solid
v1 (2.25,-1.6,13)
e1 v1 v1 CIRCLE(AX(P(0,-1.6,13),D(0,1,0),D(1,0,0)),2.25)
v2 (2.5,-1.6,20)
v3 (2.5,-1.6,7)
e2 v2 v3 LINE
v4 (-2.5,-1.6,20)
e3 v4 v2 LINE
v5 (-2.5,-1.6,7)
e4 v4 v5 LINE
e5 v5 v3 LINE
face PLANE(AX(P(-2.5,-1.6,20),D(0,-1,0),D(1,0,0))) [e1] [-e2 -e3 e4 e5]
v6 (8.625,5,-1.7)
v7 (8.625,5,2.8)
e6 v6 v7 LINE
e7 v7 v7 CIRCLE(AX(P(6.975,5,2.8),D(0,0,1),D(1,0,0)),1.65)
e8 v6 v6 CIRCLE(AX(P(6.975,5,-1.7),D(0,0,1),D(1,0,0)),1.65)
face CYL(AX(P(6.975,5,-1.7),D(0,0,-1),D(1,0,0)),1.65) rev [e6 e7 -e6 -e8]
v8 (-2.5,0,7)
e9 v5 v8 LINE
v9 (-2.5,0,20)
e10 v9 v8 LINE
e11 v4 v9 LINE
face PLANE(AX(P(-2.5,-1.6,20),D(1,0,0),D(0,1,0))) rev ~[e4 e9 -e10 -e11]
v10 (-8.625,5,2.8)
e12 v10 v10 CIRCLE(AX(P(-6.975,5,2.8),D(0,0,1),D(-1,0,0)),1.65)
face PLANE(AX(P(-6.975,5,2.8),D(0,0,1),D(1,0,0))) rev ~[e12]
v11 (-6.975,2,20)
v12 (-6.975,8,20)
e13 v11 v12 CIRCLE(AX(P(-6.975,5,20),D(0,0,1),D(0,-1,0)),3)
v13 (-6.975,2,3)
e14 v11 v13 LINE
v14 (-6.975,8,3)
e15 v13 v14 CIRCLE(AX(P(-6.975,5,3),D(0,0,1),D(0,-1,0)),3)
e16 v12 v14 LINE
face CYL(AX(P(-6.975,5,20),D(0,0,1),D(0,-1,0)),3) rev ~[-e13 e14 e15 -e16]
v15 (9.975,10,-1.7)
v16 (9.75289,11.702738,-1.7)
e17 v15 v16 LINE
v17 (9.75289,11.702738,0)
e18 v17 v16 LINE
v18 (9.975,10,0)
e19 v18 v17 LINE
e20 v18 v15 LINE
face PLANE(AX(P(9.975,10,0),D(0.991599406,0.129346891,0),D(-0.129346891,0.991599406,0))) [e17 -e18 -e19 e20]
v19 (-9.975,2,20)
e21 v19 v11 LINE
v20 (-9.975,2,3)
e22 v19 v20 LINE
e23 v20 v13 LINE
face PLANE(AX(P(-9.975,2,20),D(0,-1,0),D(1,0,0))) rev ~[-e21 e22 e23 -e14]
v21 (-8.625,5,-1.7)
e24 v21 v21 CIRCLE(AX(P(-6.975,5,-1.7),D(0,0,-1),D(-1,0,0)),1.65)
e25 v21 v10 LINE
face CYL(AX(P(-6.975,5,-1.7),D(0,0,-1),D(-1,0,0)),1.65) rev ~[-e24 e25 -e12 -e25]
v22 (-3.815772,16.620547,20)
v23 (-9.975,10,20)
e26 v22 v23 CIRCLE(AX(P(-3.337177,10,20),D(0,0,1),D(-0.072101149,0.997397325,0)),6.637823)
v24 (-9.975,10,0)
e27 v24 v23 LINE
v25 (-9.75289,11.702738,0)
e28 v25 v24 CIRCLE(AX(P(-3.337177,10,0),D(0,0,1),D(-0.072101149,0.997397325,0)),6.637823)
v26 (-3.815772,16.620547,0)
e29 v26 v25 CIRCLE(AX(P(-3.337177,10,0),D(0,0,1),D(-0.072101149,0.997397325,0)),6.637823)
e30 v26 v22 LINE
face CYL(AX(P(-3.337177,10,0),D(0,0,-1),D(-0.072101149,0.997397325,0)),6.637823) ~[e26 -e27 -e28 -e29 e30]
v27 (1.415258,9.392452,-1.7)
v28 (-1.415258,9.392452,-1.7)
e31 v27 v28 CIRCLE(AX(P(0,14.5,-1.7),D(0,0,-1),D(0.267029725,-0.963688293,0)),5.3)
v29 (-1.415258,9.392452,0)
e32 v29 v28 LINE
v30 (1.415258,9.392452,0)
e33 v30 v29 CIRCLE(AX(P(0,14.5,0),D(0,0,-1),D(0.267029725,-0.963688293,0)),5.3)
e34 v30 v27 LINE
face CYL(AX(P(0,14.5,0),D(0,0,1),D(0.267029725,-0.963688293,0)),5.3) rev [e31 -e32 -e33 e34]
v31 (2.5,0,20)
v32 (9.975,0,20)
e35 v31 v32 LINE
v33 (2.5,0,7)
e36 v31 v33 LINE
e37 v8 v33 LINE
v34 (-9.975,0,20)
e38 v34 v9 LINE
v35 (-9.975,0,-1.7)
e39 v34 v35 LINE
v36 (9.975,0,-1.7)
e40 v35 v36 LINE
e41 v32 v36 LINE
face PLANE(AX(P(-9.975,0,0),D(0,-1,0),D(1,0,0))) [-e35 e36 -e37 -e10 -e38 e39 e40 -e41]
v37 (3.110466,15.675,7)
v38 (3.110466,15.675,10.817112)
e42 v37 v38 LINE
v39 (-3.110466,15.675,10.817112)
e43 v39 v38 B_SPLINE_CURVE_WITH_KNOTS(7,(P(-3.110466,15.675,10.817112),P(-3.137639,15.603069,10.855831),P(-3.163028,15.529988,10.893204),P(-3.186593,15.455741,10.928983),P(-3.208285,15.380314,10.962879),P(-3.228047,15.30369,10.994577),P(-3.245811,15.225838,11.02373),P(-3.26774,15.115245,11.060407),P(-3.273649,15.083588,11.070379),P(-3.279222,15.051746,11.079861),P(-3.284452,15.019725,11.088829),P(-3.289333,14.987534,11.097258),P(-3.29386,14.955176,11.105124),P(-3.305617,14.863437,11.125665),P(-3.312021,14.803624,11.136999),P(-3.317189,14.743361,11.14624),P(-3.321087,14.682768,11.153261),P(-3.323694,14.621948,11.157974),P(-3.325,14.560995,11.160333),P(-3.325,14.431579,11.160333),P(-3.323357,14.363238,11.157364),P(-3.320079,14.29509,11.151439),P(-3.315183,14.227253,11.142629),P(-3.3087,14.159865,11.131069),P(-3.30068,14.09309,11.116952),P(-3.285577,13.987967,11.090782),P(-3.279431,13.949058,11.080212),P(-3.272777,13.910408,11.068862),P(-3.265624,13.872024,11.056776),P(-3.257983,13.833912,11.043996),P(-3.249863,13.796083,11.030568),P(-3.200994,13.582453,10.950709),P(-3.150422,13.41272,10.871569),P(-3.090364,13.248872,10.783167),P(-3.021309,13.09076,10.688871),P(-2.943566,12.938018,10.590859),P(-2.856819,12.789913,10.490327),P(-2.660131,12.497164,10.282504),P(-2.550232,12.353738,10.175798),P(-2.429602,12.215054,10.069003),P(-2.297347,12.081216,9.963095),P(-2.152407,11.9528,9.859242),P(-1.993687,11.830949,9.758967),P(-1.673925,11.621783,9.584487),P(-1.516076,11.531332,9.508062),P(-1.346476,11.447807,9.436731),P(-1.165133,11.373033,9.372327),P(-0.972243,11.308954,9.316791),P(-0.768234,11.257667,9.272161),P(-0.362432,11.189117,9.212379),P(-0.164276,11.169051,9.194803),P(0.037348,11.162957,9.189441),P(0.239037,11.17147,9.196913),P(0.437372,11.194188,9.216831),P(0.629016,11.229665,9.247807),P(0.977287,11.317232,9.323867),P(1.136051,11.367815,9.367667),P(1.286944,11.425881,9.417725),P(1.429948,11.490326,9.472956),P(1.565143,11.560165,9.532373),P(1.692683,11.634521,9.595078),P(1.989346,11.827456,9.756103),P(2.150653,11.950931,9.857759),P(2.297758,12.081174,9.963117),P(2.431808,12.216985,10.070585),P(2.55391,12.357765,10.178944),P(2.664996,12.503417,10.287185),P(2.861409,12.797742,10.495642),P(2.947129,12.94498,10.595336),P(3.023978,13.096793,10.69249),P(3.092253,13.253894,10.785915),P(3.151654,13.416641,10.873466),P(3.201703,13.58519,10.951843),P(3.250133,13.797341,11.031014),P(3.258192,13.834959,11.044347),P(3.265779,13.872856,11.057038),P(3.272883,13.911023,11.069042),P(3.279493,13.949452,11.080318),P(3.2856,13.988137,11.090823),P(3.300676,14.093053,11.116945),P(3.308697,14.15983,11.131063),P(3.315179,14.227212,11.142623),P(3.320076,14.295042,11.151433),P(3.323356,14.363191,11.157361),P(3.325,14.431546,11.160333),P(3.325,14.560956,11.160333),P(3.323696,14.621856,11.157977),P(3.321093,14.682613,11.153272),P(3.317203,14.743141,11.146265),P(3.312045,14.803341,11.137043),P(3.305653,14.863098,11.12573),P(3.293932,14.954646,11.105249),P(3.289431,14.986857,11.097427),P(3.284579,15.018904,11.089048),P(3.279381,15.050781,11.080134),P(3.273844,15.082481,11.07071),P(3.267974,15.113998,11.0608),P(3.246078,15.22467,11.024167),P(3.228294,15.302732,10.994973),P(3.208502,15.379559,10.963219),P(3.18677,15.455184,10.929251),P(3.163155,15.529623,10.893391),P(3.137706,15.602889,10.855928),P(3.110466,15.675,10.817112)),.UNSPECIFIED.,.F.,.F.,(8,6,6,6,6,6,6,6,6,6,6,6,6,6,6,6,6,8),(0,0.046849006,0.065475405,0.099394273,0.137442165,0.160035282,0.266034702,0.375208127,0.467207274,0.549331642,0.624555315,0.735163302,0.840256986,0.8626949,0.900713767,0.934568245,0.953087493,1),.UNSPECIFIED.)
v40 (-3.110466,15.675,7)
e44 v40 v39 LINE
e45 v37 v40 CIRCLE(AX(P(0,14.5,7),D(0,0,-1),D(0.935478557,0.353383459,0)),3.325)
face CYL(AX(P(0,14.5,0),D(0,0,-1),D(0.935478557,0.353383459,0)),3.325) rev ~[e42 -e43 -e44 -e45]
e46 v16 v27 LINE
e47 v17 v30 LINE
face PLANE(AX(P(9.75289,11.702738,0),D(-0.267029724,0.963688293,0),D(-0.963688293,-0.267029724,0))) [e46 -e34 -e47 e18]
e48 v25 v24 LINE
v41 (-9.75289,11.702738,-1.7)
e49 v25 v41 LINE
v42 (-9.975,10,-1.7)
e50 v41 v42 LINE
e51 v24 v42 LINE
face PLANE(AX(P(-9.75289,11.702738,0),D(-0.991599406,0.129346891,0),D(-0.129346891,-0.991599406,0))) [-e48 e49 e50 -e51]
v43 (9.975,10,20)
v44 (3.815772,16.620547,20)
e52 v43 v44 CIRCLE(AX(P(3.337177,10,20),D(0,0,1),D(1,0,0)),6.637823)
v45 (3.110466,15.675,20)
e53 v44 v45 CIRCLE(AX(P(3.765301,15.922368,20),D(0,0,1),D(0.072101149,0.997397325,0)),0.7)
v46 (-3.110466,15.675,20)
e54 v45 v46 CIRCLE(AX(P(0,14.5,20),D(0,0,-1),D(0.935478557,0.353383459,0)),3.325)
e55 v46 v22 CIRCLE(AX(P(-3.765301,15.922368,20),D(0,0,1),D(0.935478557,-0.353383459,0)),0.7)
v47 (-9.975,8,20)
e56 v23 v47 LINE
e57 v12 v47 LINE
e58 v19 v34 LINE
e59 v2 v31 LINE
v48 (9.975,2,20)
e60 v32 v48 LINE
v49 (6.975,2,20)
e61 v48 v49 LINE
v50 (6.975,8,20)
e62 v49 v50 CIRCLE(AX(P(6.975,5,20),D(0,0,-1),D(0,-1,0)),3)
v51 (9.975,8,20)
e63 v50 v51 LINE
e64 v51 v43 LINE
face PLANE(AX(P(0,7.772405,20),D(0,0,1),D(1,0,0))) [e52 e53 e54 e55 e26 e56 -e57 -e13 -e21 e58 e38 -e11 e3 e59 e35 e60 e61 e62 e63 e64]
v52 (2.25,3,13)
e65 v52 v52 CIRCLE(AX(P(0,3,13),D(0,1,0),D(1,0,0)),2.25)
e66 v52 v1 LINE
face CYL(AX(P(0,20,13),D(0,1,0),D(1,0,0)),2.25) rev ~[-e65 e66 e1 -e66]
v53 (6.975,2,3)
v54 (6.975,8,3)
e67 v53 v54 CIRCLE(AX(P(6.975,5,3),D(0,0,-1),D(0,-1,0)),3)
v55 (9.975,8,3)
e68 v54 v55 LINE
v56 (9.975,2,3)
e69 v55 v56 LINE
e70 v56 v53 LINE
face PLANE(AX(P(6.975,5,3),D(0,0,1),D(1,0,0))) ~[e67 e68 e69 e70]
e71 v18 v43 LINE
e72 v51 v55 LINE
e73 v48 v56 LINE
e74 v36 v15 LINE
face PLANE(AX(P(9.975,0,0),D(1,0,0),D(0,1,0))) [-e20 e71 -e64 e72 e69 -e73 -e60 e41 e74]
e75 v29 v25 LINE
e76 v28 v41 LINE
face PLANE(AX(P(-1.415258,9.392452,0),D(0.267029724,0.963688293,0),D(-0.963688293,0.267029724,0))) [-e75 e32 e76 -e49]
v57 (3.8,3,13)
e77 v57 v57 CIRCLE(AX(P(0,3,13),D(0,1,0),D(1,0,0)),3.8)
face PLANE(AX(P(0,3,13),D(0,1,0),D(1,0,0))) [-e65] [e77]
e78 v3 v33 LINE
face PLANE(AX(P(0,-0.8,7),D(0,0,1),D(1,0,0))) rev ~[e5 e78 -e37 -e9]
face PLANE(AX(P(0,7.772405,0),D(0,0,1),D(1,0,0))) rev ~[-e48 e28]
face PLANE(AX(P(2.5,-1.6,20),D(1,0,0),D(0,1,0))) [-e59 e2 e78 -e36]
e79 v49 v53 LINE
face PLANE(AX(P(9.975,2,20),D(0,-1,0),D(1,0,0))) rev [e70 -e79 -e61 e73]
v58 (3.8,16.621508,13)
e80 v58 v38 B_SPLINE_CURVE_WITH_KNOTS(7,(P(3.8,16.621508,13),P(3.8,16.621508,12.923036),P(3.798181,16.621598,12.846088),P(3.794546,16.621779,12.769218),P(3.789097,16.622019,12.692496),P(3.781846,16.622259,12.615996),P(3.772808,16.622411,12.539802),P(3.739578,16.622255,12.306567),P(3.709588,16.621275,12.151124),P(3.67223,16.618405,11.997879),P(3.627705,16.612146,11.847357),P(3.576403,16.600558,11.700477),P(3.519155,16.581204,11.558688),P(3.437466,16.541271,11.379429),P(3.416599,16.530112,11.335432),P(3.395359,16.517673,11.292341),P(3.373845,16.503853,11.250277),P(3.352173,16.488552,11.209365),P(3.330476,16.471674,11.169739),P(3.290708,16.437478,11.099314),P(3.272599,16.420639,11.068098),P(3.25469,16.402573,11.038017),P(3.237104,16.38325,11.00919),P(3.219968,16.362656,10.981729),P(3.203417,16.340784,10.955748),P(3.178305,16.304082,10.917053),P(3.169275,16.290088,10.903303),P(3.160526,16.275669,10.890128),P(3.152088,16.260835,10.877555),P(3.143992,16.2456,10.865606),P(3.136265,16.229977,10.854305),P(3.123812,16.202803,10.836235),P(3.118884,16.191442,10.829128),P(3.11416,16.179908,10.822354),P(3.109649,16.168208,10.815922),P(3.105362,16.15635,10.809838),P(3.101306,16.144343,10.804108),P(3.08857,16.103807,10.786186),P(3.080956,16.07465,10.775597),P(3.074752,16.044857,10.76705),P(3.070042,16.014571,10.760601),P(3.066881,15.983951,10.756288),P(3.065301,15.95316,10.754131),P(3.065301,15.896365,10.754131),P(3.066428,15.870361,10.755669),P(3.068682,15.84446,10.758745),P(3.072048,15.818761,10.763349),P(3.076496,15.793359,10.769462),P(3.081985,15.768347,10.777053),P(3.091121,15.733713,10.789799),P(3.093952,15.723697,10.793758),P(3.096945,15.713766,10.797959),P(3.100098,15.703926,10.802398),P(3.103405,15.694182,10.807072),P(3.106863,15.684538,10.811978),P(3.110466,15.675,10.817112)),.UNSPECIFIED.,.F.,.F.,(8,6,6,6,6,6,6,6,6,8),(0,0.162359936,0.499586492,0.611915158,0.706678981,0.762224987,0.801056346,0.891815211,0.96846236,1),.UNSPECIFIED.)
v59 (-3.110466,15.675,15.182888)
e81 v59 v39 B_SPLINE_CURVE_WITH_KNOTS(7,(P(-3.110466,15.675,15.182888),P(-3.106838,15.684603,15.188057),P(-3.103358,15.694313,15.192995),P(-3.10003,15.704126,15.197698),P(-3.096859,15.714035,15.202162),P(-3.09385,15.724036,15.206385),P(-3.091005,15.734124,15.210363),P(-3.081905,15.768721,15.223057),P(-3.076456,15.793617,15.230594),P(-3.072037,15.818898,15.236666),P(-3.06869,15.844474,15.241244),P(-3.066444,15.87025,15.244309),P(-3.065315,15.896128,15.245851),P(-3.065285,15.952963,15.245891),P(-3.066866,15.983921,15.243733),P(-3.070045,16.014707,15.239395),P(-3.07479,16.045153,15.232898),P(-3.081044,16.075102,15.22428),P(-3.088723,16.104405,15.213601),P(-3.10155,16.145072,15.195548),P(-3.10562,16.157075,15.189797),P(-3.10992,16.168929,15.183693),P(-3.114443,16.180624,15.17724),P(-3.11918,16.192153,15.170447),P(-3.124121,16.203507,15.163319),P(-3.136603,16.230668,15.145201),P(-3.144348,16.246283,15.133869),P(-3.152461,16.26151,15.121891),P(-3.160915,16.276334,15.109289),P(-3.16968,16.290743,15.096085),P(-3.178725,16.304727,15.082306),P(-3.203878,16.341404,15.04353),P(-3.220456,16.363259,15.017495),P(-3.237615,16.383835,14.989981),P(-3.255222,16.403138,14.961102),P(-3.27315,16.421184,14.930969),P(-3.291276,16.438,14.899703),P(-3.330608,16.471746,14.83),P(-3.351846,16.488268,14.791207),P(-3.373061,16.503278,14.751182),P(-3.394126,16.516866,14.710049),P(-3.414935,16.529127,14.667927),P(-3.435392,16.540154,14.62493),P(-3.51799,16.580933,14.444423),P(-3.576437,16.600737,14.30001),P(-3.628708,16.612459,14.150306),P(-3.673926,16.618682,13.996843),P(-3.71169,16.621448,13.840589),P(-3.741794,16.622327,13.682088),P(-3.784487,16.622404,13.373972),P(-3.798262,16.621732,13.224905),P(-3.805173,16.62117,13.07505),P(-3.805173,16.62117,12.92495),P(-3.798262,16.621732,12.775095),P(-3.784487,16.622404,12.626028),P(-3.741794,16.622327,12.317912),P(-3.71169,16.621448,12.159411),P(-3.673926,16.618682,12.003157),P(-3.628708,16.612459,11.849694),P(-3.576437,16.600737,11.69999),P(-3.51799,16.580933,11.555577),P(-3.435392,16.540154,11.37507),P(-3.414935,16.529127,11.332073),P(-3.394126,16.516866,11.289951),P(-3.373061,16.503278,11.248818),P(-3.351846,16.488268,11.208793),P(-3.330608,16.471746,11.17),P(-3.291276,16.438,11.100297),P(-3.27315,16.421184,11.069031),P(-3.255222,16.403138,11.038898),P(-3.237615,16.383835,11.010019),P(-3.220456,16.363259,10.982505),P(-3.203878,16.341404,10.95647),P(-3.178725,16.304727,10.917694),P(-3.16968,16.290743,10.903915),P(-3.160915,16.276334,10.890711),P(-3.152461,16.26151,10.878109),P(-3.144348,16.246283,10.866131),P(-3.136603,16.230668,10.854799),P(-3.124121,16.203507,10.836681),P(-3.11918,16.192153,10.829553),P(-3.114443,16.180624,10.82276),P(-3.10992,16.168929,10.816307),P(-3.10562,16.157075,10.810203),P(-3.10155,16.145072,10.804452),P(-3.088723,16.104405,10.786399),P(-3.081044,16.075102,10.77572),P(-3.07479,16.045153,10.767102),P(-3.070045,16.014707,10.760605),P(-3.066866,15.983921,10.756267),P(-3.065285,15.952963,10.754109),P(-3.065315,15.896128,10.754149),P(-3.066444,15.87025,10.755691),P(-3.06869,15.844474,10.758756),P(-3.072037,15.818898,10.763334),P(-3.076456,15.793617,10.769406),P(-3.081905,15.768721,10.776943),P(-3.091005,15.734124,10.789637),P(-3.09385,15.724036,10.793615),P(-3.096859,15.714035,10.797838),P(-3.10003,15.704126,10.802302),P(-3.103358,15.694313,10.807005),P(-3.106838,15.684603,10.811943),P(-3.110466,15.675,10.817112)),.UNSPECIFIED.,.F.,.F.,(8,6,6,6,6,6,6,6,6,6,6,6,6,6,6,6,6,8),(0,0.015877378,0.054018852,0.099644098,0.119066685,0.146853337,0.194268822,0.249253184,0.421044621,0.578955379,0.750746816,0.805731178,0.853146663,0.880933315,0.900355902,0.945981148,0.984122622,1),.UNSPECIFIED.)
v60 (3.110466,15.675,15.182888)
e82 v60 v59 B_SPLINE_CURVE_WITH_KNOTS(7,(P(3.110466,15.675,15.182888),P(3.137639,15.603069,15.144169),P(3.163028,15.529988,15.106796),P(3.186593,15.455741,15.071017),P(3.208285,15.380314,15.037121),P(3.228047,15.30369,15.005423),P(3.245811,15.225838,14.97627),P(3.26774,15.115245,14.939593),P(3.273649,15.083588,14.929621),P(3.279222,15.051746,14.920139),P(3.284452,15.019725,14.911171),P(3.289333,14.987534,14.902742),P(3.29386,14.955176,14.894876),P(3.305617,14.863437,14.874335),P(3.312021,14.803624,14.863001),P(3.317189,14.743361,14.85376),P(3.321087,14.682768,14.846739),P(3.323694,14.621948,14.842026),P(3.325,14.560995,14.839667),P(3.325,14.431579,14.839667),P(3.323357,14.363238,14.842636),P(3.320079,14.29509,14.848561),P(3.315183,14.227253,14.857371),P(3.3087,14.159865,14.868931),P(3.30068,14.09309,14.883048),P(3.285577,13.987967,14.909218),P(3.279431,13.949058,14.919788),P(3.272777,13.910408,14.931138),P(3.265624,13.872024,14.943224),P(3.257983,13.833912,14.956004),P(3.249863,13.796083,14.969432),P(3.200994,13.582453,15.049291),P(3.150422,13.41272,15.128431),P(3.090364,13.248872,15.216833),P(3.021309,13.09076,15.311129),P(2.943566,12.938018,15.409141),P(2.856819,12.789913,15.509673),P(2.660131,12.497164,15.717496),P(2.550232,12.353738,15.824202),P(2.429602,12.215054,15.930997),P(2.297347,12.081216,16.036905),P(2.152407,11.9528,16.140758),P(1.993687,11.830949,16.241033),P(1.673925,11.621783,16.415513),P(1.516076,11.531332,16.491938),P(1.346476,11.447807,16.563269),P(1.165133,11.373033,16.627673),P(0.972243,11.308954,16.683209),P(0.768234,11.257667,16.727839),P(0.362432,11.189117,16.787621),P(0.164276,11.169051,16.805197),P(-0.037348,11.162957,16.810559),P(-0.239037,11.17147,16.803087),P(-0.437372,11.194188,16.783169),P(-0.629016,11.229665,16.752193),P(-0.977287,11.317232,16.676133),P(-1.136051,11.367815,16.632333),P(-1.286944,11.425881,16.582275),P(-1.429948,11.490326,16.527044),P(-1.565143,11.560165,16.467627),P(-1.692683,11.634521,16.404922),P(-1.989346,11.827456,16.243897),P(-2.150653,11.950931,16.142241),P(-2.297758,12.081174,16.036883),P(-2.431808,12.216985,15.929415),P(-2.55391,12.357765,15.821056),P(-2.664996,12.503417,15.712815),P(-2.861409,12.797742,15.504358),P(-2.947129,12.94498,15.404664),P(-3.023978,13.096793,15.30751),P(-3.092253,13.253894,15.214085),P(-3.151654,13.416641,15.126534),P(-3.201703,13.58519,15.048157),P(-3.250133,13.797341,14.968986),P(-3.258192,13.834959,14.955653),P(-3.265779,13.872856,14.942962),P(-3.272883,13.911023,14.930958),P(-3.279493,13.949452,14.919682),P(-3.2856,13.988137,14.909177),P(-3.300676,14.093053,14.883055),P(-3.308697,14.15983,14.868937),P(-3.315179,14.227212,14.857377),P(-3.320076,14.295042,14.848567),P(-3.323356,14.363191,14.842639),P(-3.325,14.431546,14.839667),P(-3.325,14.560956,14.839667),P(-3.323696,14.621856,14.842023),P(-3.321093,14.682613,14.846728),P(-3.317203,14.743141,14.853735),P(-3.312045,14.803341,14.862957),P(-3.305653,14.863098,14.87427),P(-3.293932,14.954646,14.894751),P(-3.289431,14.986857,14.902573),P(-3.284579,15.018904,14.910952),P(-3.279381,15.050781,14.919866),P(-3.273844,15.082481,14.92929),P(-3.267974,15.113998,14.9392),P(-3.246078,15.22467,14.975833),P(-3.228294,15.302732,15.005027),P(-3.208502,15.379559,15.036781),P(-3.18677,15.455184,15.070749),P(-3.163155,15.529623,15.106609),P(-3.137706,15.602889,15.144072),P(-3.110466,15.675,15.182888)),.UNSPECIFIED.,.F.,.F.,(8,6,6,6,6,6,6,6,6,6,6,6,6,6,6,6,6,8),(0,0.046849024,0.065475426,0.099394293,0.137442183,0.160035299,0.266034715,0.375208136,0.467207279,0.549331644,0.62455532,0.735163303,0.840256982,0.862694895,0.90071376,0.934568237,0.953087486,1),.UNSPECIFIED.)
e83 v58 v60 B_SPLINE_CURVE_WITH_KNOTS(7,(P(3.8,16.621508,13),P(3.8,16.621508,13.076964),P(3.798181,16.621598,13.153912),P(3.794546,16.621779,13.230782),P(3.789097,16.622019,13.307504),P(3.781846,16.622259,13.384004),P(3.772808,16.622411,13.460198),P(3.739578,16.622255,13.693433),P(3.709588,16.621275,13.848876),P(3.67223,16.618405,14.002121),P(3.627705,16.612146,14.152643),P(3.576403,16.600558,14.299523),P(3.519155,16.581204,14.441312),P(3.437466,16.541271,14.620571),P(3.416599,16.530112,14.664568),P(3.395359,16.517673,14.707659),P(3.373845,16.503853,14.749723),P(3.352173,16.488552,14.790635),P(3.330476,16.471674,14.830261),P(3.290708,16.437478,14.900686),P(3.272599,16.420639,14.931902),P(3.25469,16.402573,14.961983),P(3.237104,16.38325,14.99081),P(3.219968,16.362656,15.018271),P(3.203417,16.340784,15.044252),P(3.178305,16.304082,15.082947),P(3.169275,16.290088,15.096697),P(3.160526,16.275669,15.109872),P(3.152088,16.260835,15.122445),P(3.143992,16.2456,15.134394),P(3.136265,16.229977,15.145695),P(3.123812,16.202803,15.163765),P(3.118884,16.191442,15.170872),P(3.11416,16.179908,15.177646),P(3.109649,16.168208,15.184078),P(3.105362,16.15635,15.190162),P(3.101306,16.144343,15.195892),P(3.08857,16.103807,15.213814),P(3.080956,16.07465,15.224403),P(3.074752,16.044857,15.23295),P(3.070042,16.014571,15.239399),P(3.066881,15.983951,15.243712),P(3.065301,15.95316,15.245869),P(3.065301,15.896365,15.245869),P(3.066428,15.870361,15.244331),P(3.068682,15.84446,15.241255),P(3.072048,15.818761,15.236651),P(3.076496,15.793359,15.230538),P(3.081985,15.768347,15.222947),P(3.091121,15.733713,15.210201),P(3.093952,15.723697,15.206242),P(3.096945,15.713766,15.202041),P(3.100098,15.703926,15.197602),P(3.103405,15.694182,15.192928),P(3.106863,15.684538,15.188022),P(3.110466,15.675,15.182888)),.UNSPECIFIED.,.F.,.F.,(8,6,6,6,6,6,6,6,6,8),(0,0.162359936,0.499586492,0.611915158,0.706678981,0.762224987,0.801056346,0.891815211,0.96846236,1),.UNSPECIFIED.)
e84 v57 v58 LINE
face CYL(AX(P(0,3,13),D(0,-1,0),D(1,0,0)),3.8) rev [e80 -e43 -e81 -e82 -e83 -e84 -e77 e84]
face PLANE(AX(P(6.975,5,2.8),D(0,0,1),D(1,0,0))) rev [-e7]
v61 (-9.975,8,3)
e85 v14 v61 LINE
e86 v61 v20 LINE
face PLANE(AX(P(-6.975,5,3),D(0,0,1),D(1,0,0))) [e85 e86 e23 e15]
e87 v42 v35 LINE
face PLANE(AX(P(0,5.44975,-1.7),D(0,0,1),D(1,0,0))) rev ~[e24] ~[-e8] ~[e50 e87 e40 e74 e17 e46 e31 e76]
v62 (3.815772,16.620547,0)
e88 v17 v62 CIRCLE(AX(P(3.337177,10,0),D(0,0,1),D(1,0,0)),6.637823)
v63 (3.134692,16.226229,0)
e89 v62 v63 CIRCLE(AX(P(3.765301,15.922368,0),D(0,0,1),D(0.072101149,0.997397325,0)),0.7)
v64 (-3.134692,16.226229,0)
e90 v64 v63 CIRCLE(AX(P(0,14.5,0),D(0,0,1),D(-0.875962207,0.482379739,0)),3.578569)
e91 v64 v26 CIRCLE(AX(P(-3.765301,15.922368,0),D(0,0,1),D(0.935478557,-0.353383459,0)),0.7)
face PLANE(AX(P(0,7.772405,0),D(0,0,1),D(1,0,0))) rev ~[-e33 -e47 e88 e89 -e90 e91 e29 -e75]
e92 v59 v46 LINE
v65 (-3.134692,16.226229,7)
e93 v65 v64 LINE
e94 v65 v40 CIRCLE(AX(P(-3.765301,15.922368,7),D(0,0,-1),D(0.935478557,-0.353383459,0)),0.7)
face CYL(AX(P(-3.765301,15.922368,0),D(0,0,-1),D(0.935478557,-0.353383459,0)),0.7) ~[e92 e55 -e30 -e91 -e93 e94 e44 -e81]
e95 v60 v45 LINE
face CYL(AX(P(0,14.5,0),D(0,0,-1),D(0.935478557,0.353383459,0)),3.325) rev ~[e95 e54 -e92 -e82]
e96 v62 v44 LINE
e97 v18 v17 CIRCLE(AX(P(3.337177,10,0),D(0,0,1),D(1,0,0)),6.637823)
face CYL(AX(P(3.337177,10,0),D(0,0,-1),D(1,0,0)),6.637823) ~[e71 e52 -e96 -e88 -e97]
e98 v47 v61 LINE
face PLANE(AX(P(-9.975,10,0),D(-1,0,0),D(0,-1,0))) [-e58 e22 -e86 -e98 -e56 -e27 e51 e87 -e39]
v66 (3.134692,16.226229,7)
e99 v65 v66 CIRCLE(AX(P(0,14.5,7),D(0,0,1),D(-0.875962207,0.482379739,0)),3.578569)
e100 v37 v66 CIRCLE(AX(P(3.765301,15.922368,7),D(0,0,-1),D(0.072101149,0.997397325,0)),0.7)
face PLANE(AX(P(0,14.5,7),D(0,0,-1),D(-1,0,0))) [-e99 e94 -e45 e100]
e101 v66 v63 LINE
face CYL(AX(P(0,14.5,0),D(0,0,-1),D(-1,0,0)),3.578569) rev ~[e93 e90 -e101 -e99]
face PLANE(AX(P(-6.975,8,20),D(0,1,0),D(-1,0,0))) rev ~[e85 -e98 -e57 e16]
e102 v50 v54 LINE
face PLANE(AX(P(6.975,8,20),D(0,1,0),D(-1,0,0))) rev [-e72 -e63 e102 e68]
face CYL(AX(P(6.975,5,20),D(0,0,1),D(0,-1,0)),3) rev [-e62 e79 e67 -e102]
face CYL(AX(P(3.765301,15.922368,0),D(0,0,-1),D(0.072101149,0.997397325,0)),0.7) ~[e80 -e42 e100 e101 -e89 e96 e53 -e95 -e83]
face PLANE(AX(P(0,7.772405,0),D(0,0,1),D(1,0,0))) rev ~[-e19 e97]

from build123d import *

# Parameters (mm, degrees)
BOSS_EXTRUDE1_DEPTH = 20
SKETCH2_W           = 5
SKETCH2_H           = 1.6
BOSS_EXTRUDE2_DEPTH = 13
SKETCH3_R           = 3.578569403
CUT_EXTRUDE1_DEPTH  = 7
BOSS_EXTRUDE3_DEPTH = 1.7
CUT_EXTRUDE2_START  = 20
SKETCH6_R           = 2.25
CUT_EXTRUDE2_DEPTH  = 22.6
CUT_EXTRUDE3_START  = 3
SKETCH7_R           = 3.8
CUT_EXTRUDE3_DEPTH  = 14.622368421
SKETCH8_R           = 1.65
CUT_EXTRUDE4_DEPTH  = 40
CUT_EXTRUDE5_DEPTH  = 17
SKETCH10_R          = 1.65
BOSS_EXTRUDE4_DEPTH = 0.2


with BuildPart() as part:
    # Sketch1 → Boss-Extrude1 (new body)
    with BuildSketch(Plane.XY):
        with BuildLine():
            Line((-9.975, 0), (9.975, 0))
            Line((9.975, 0), (9.975, 10))
            ThreePointArc((9.975, 10), (8.197090719, 14.521275434), (3.815771997, 16.620546549))
            ThreePointArc((3.815771997, 16.620546549), (3.204205313, 16.340903263), (3.110466203, 15.675))
            ThreePointArc((3.110466203, 15.675), (0, 11.175), (-3.110466203, 15.675))
            ThreePointArc((-3.110466203, 15.675), (-3.204205313, 16.340903263), (-3.815771997, 16.620546549))
            ThreePointArc((-3.815771997, 16.620546549), (-8.197090719, 14.521275434), (-9.975, 10))
            Line((-9.975, 10), (-9.975, 0))
        make_face()
    extrude(amount=BOSS_EXTRUDE1_DEPTH)

    # Sketch2 → Boss-Extrude2 (add)
    with BuildSketch(Plane.XY.offset(20)):
        with Locations((0, -0.8)):
            Rectangle(SKETCH2_W, SKETCH2_H)
    extrude(amount=-BOSS_EXTRUDE2_DEPTH)

    # Sketch3 → Cut-Extrude1 (cut)
    with BuildSketch(Plane(origin=(0, 0, 0), x_dir=(-1, 0, 0), z_dir=(0, 0, -1))):
        with Locations((0, 14.5)):
            Circle(SKETCH3_R)
    extrude(amount=-CUT_EXTRUDE1_DEPTH, mode=Mode.SUBTRACT)

    # Sketch4 → Boss-Extrude3 (add)
    with BuildSketch(Plane(origin=(0, 0, 0), x_dir=(-1, 0, 0), z_dir=(0, 0, -1))):
        with BuildLine():
            Line((-9.975, 0), (-9.975, 10))
            Line((-9.975, 10), (-9.752890248, 11.702738246))
            Line((-9.752890248, 11.702738246), (-1.415257539, 9.392452047))
            ThreePointArc((-1.415257539, 9.392452047), (0, 9.2), (1.415257539, 9.392452047))
            Line((1.415257539, 9.392452047), (9.752890248, 11.702738246))
            Line((9.752890248, 11.702738246), (9.975, 10))
            Line((9.975, 10), (9.975, 0))
            Line((9.975, 0), (-9.975, 0))
        make_face()
    extrude(amount=BOSS_EXTRUDE3_DEPTH)

    # Sketch6 → Cut-Extrude2 (cut, through all)
    with BuildSketch(Plane(origin=(0, 0, 0), x_dir=(1, 0, 0), z_dir=(0, 1, 0)).offset(CUT_EXTRUDE2_START)):
        with Locations((0, -13)):
            Circle(SKETCH6_R)
    extrude(amount=-CUT_EXTRUDE2_DEPTH, mode=Mode.SUBTRACT)

    # Sketch7 → Cut-Extrude3 (cut, through all)
    with BuildSketch(Plane(origin=(0, 0, 0), x_dir=(1, 0, 0), z_dir=(0, 1, 0)).offset(CUT_EXTRUDE3_START)):
        with Locations((0, -13)):
            Circle(SKETCH7_R)
    extrude(amount=CUT_EXTRUDE3_DEPTH, mode=Mode.SUBTRACT)

    # Sketch8 → Cut-Extrude4 (cut)
    with BuildSketch(Plane(origin=(0, 0, -1.7), x_dir=(-1, 0, 0), z_dir=(0, 0, -1))):
        with Locations((6.975, 5)):
            Circle(SKETCH8_R)
    cut_extrude4 = extrude(amount=-CUT_EXTRUDE4_DEPTH, mode=Mode.SUBTRACT)

    # Mirror1: Cut-Extrude4 across plane
    add(cut_extrude4.mirror(Plane(origin=(0, 0, 0), x_dir=(0, 0, 1), z_dir=(1, 0, 0))), mode=Mode.SUBTRACT)

    # Sketch9 → Cut-Extrude5 (cut)
    with BuildSketch(Plane.XY.offset(20)):
        with BuildLine():
            Line((-6.975, 8), (-9.975, 8))
            Line((-9.975, 8), (-9.975, 2))
            Line((-9.975, 2), (-6.975, 2))
            ThreePointArc((-6.975, 2), (-3.975, 5), (-6.975, 8))
        make_face()
    cut_extrude5 = extrude(amount=-CUT_EXTRUDE5_DEPTH, mode=Mode.SUBTRACT)

    # Sketch10 → Boss-Extrude4 (add)
    with BuildSketch(Plane.XY.offset(3)):
        with Locations((-6.975, 5)):
            Circle(SKETCH10_R)
    boss_extrude4 = extrude(amount=-BOSS_EXTRUDE4_DEPTH)

    # Mirror2: Cut-Extrude5, Boss-Extrude4 across plane
    add(cut_extrude5.mirror(Plane(origin=(0, 0, 0), x_dir=(0, 0, 1), z_dir=(1, 0, 0))), mode=Mode.SUBTRACT)
    add(boss_extrude4.mirror(Plane(origin=(0, 0, 0), x_dir=(0, 0, 1), z_dir=(1, 0, 0))))


solid = part.part
